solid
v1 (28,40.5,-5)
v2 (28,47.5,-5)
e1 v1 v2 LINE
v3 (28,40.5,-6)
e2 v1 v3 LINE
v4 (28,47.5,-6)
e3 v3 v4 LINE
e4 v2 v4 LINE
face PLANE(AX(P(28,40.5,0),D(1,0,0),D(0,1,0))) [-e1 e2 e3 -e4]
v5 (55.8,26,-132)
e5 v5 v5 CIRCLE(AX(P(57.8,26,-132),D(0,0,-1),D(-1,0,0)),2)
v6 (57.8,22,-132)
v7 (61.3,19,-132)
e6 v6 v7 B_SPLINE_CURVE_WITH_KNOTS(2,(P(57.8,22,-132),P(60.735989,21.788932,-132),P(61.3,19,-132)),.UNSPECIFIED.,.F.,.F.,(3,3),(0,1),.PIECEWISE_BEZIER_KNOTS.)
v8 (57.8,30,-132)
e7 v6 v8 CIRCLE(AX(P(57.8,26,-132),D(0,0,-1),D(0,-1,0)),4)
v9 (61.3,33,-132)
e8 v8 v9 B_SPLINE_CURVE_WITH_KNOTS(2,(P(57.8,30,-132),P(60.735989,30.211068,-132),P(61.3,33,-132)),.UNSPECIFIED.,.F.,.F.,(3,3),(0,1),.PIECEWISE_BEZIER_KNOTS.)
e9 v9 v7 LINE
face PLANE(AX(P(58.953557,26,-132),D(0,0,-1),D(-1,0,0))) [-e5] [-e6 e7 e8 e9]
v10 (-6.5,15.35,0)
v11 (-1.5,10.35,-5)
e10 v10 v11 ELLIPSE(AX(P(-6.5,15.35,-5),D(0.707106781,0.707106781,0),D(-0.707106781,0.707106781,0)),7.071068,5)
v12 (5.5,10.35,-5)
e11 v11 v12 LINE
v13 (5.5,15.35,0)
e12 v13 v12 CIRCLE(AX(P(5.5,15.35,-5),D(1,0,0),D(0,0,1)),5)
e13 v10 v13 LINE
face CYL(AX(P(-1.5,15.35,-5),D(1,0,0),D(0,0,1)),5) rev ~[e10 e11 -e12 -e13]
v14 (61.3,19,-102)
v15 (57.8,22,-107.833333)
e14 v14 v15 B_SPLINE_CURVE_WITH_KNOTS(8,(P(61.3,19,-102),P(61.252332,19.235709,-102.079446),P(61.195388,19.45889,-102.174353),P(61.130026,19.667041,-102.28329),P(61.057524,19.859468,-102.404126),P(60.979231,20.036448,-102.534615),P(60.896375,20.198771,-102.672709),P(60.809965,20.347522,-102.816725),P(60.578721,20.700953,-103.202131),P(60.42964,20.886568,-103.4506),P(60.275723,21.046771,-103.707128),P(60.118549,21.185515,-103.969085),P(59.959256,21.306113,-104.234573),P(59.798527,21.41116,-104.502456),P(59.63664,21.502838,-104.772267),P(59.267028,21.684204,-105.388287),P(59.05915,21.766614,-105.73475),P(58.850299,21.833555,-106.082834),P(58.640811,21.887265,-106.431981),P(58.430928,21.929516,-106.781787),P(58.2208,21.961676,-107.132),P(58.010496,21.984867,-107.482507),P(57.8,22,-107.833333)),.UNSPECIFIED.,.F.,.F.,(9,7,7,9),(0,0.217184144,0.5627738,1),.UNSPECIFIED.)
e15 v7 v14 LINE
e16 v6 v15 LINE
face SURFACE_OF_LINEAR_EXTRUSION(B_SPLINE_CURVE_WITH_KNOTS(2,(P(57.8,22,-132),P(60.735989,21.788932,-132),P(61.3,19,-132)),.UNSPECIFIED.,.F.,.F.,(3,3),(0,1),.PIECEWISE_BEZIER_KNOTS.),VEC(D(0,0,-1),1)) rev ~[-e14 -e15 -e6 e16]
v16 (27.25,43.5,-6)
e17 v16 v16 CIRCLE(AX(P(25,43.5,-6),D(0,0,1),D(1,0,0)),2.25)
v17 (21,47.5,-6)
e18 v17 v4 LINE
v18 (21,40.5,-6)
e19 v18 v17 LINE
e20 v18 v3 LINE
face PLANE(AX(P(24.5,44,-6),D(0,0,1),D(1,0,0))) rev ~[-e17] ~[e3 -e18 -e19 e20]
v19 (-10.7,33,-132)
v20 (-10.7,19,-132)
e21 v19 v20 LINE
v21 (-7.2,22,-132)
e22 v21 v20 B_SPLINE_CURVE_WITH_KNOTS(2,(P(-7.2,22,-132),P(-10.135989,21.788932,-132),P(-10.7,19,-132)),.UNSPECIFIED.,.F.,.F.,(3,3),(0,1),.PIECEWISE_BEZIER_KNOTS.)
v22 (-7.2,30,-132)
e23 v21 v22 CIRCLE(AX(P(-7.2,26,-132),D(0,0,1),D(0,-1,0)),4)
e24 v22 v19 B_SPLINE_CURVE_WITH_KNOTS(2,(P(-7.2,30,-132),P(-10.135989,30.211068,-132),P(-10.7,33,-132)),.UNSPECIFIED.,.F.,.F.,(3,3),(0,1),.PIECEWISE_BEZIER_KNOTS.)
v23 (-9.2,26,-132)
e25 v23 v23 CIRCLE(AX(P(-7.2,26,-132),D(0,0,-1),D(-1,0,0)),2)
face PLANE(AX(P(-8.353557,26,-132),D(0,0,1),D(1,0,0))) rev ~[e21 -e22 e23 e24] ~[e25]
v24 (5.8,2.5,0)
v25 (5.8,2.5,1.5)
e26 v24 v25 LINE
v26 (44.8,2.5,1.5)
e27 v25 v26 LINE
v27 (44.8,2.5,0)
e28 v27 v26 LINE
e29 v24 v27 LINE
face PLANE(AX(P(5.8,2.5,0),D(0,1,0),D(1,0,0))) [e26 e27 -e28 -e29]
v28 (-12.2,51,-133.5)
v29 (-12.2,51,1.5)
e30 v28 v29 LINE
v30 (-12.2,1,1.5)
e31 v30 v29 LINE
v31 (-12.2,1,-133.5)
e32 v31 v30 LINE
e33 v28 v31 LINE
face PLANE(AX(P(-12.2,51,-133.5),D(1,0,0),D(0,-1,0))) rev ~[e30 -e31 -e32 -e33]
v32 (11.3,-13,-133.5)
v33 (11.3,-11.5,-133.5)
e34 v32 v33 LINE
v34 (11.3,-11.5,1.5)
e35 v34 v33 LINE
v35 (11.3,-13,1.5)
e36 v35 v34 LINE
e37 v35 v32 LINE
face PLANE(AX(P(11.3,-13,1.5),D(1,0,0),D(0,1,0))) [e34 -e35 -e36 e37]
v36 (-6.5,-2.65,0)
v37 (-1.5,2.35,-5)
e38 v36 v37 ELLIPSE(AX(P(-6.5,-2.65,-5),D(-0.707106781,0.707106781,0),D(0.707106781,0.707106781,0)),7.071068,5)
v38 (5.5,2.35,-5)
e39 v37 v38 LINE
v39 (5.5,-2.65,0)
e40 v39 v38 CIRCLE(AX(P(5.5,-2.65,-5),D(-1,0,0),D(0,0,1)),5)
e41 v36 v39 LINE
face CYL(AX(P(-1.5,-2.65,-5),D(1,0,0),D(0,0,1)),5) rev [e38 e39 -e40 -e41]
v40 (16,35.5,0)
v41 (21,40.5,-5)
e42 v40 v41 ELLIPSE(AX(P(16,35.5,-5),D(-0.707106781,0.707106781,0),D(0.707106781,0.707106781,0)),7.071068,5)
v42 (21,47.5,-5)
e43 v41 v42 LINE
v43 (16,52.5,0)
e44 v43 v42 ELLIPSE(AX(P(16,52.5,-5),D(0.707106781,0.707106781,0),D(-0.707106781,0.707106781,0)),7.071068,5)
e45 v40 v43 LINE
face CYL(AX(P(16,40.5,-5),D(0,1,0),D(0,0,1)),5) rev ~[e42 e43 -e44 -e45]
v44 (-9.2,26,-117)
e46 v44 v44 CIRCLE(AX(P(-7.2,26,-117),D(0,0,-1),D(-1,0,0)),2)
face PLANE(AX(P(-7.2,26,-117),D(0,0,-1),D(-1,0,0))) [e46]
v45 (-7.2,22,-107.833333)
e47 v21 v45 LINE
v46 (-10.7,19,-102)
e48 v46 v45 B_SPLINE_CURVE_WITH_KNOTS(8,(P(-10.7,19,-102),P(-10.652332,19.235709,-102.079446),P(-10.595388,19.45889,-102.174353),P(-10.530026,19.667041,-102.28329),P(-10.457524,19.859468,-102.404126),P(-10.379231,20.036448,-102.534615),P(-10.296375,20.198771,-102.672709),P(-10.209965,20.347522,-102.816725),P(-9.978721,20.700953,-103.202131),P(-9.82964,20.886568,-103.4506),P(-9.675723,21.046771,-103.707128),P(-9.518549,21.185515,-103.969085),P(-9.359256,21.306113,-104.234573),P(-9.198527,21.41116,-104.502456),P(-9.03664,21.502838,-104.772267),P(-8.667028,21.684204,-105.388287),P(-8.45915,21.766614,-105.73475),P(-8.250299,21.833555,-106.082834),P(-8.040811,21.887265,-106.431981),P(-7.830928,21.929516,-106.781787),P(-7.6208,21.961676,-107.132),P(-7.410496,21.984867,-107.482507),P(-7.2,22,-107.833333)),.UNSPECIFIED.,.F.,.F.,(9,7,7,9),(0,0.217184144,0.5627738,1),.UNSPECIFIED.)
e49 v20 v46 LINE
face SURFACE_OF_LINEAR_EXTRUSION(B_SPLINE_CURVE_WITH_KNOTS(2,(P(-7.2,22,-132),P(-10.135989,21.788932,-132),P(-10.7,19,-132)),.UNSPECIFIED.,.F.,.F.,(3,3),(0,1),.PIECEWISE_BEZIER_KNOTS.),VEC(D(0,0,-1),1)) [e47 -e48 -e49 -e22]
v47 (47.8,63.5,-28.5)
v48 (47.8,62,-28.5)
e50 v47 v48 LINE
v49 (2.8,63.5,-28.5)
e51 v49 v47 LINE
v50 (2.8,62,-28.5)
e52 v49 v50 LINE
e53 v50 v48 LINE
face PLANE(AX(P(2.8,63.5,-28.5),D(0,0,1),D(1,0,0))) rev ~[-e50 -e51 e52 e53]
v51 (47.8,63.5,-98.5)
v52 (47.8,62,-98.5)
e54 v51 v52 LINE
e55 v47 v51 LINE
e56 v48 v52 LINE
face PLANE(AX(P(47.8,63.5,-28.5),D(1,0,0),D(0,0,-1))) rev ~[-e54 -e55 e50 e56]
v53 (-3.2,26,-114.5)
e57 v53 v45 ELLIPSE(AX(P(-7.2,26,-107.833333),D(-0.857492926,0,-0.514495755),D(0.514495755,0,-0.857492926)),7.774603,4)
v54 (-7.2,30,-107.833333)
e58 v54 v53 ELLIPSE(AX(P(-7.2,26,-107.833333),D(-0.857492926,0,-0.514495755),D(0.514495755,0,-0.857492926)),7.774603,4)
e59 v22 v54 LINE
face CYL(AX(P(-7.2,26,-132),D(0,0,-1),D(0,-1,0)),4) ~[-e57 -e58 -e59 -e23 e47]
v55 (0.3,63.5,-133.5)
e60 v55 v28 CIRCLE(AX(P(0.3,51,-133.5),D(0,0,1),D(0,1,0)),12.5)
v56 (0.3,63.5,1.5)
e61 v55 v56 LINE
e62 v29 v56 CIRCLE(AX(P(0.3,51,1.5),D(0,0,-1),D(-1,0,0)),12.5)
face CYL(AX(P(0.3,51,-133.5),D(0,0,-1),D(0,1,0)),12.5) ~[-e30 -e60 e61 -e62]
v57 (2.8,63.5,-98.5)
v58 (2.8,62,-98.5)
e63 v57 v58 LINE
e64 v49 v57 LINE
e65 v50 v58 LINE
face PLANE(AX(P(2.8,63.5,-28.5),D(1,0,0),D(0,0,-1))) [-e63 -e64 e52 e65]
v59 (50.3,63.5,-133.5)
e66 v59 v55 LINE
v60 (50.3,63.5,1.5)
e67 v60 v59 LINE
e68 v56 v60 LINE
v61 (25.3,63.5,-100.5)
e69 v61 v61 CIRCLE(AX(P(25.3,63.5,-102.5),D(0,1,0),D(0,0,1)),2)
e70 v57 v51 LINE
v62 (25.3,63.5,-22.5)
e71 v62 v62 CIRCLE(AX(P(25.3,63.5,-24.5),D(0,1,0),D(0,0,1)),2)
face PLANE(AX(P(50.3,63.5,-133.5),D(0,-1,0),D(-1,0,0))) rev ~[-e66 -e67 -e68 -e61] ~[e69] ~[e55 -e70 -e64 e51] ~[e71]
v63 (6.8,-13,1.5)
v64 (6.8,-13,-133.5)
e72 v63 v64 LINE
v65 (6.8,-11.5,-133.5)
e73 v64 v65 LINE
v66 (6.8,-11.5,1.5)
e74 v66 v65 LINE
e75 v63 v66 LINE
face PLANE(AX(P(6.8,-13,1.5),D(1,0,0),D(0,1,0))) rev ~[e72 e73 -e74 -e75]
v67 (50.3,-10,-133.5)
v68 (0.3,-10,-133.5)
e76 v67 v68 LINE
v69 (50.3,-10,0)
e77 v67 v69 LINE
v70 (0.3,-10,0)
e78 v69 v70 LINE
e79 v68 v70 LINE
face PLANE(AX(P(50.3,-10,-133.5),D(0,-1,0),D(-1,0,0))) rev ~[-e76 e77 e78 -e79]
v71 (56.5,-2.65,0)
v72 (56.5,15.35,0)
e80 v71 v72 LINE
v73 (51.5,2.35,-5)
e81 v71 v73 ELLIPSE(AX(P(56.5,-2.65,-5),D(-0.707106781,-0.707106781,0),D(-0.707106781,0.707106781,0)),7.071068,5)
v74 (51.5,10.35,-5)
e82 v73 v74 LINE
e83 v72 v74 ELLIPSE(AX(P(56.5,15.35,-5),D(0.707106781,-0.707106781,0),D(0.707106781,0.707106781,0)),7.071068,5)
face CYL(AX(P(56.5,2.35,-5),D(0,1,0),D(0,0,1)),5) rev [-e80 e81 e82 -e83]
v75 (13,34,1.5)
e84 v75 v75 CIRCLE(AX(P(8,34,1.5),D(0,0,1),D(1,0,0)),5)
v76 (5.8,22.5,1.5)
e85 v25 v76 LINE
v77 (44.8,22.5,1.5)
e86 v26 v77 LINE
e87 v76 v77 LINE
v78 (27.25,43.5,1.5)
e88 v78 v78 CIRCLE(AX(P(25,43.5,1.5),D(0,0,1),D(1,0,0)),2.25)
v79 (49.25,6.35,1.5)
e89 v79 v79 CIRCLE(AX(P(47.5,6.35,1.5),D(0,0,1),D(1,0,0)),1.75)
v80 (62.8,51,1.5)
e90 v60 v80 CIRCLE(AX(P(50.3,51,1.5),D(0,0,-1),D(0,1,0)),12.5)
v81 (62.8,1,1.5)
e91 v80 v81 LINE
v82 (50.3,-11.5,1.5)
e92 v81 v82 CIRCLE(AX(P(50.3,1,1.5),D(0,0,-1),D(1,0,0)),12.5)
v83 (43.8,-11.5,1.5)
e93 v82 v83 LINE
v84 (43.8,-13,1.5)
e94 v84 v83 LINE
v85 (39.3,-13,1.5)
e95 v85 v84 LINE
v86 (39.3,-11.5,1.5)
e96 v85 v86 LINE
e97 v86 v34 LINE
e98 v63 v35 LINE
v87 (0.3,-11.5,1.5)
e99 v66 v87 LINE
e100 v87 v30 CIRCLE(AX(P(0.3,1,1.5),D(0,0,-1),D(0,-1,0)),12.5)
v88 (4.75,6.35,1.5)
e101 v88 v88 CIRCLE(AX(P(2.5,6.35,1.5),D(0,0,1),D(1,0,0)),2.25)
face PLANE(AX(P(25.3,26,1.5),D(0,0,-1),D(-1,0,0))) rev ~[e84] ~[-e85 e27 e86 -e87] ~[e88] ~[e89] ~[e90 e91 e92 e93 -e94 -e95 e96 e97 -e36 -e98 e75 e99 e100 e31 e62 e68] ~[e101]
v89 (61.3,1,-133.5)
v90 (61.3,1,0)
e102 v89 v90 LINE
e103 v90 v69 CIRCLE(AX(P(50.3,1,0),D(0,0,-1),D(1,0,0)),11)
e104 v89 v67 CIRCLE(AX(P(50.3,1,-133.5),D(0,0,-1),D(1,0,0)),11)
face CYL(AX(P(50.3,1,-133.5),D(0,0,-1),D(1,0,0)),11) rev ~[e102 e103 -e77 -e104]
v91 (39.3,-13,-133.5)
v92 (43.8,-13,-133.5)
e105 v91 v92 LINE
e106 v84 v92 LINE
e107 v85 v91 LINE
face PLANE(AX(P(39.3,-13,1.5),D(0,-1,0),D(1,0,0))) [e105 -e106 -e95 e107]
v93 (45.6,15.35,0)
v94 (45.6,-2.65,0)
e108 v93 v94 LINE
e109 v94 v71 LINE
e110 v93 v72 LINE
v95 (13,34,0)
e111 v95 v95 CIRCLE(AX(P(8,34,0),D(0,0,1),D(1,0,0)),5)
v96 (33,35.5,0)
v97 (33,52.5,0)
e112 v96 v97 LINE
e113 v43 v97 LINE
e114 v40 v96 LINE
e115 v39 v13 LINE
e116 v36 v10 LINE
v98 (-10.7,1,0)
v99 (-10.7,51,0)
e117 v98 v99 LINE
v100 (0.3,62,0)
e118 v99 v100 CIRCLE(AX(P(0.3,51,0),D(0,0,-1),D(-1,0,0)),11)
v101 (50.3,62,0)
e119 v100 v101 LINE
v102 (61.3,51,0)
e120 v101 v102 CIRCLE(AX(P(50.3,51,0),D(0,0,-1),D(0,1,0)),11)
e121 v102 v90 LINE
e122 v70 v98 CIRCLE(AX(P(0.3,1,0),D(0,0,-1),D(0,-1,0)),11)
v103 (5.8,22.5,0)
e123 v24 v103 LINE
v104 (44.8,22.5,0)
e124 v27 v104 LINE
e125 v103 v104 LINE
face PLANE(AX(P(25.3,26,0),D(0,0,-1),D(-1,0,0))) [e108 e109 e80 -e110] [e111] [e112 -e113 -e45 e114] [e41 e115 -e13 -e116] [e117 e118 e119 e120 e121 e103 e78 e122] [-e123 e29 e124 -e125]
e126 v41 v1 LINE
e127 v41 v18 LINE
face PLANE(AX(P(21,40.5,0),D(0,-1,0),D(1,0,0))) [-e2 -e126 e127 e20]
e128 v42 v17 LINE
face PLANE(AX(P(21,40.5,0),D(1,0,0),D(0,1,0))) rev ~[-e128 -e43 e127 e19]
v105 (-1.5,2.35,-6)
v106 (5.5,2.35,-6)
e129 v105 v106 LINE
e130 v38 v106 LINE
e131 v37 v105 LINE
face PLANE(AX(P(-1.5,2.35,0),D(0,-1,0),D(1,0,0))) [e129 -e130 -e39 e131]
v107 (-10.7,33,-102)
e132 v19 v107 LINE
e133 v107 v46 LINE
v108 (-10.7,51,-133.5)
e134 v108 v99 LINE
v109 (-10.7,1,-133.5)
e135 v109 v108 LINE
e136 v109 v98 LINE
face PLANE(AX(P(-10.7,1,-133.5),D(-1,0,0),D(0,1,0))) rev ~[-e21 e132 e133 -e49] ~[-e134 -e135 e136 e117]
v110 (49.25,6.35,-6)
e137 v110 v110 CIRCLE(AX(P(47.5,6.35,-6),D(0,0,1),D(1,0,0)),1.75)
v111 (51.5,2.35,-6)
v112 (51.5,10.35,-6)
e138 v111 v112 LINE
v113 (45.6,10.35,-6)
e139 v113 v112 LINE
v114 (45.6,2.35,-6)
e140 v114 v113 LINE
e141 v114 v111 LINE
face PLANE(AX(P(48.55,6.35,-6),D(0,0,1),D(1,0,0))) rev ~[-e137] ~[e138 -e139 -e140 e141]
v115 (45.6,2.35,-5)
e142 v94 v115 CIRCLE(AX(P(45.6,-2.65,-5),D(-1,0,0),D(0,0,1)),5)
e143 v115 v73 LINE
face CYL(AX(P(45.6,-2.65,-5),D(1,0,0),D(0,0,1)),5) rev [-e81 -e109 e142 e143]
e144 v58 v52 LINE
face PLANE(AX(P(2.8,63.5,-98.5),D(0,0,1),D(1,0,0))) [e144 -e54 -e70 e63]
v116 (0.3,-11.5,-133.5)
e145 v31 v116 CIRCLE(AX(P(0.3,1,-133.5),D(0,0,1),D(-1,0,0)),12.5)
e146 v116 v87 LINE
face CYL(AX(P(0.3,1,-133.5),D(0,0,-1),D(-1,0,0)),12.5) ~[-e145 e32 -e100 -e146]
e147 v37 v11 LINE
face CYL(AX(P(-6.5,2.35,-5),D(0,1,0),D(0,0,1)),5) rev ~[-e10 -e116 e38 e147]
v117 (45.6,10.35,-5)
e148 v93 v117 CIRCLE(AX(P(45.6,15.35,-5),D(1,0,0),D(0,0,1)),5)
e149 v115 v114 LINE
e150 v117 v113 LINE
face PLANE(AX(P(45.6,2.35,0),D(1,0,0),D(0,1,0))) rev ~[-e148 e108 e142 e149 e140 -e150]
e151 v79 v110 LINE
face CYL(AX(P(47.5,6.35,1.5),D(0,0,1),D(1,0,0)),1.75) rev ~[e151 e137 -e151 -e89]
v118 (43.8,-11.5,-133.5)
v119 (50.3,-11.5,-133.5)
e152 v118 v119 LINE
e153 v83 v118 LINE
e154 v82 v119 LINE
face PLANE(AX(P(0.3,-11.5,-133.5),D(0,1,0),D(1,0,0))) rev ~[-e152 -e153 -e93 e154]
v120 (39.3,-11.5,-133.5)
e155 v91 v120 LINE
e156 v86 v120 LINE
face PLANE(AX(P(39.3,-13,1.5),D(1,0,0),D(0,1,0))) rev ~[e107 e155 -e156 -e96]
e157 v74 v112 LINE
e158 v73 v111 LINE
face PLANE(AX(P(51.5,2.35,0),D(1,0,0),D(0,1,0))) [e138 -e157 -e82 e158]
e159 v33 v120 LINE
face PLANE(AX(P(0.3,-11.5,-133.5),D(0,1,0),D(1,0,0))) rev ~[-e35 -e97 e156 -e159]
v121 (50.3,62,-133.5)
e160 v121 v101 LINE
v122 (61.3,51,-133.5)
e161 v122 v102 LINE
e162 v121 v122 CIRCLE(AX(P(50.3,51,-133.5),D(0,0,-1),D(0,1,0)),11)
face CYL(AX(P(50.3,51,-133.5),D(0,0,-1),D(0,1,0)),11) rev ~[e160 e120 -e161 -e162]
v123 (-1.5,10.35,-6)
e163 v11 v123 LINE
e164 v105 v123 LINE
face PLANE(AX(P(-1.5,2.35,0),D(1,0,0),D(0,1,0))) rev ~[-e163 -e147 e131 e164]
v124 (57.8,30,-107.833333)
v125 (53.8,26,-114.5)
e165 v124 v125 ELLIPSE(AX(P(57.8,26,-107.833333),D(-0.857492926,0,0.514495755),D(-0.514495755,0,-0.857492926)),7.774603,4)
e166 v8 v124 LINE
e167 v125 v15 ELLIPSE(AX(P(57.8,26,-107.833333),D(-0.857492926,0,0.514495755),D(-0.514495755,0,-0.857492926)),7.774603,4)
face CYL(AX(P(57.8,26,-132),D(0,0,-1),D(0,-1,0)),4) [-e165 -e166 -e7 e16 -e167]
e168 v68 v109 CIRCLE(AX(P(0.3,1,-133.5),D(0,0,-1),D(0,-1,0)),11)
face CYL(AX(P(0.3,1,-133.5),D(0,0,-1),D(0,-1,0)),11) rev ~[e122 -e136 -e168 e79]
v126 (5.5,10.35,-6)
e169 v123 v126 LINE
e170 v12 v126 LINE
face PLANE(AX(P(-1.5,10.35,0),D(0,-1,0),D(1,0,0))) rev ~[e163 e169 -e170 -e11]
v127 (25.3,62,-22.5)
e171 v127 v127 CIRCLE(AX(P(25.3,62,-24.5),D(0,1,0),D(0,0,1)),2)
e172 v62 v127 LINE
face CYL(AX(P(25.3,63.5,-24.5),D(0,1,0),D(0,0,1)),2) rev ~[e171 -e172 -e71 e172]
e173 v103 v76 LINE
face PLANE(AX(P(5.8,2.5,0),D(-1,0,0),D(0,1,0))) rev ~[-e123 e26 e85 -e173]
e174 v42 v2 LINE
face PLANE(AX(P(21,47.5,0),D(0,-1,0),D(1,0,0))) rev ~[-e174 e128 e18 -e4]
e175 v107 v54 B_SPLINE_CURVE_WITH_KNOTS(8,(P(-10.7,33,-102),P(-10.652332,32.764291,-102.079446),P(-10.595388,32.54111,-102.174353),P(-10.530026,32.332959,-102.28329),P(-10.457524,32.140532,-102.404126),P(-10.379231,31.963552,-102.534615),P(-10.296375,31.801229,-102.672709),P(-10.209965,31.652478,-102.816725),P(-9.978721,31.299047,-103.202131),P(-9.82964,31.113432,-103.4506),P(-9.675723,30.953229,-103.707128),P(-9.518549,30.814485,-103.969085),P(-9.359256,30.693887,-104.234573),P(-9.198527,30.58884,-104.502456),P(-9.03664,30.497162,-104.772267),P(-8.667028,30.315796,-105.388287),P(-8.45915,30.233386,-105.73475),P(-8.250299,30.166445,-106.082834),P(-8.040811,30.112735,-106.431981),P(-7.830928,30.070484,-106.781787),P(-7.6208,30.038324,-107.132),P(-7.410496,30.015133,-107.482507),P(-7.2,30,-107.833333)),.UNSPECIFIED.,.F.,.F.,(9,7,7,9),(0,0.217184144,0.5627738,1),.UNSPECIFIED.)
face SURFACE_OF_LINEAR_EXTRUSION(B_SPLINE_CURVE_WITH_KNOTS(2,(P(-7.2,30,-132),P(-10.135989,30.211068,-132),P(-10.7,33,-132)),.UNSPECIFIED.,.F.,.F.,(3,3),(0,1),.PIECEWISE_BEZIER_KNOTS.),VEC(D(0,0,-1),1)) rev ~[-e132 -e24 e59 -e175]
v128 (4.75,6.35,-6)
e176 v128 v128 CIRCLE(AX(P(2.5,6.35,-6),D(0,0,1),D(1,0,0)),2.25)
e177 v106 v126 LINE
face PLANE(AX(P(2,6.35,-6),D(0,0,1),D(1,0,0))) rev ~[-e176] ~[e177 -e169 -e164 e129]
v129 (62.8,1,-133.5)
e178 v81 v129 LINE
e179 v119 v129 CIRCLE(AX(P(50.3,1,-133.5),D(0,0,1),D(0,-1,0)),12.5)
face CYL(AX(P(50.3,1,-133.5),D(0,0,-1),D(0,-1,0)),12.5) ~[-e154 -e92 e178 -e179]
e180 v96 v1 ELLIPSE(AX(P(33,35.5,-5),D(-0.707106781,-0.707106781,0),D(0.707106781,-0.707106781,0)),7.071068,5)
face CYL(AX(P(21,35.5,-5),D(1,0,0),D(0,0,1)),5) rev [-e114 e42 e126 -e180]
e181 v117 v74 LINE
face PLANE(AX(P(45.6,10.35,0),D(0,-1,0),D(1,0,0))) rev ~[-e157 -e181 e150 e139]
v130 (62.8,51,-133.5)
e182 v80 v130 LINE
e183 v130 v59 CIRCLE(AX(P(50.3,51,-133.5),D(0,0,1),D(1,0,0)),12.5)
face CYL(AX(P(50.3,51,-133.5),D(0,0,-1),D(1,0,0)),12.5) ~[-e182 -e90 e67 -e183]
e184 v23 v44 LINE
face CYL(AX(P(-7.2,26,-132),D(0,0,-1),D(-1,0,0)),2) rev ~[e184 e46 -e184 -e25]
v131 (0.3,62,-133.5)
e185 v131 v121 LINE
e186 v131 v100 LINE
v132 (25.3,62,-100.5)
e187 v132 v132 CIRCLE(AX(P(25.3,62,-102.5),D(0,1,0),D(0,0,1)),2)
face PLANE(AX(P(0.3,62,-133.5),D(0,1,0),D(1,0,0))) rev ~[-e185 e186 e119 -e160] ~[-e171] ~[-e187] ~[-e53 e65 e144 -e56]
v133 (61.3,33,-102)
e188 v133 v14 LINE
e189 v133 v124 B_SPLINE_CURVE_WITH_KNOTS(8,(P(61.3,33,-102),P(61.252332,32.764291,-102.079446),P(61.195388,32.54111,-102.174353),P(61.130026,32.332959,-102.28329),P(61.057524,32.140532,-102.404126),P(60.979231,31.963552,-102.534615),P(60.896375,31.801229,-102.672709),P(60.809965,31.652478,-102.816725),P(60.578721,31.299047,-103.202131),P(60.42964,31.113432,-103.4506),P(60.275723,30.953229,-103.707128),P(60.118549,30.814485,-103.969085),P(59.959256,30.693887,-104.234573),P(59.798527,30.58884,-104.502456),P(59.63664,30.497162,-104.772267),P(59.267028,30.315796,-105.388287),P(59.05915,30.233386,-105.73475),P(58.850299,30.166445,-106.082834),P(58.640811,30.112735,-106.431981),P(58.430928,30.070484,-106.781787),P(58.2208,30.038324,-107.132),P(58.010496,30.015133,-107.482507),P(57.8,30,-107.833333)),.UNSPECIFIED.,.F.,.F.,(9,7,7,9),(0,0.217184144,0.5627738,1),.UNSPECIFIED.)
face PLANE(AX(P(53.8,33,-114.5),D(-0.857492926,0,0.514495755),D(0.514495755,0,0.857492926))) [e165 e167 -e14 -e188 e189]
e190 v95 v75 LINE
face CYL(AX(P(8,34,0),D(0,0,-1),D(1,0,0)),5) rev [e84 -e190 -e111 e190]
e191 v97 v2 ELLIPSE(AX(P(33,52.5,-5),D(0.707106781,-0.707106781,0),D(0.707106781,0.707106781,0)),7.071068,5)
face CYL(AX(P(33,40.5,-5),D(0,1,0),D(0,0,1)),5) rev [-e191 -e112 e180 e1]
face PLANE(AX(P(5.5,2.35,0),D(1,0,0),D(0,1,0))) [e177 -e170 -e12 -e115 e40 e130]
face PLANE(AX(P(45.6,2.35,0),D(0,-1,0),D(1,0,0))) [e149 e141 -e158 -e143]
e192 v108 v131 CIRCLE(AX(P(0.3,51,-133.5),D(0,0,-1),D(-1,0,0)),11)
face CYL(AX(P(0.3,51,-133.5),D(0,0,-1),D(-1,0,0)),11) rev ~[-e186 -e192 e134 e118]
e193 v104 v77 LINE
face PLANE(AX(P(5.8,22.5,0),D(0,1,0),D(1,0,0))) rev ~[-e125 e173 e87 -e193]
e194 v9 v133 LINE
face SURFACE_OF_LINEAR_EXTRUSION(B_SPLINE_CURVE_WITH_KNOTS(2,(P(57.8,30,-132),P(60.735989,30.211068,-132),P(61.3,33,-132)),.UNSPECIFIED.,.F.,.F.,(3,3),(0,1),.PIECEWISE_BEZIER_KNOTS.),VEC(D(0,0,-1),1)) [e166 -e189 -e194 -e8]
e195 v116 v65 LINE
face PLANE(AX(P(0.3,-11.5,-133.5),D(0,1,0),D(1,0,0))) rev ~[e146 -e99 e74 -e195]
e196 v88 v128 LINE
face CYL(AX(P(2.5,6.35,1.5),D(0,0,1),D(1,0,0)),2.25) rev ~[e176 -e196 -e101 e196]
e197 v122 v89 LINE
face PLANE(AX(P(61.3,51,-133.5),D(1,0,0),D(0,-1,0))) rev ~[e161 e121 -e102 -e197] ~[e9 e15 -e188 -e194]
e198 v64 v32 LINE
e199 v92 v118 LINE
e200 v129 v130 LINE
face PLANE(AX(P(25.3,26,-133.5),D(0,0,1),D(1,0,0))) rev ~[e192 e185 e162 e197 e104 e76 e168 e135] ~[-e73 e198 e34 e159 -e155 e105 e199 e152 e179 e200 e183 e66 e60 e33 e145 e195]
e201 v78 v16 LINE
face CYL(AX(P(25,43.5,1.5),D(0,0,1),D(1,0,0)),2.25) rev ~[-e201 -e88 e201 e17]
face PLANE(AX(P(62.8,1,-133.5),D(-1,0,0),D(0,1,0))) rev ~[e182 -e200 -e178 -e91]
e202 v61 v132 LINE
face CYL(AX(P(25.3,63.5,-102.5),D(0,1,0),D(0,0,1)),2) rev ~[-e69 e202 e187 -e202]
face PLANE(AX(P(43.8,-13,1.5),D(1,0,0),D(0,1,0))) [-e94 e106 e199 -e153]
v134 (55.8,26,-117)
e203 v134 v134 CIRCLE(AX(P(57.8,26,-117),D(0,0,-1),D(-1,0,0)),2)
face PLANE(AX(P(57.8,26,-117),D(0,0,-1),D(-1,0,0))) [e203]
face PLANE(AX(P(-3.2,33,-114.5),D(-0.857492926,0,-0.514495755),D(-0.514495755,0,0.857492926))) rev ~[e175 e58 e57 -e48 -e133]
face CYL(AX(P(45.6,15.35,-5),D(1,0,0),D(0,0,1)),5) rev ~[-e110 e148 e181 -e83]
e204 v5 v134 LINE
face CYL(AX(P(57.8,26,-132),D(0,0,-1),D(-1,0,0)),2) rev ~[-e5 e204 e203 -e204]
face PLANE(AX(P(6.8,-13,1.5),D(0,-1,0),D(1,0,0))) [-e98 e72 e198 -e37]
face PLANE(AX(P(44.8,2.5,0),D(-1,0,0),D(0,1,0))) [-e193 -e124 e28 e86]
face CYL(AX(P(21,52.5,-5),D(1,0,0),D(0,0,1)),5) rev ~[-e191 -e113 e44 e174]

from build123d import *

# Parameters (mm, degrees)
SKETCH1_R           = 5
SKETCH1_W           = 39
SKETCH1_H           = 20
BOSS_EXTRUDE1_DEPTH = 1.5
BOSS_EXTRUDE3_START = 133.5
BOSS_EXTRUDE3_DEPTH = 133.5
BOSS_EXTRUDE4_DEPTH = 30
CUT_EXTRUDE1_DEPTH  = 15
CUT_EXTRUDE2_DEPTH  = 15
SKETCH7_R           = 2
CUT_EXTRUDE3_DEPTH  = 15
SKETCH10_W          = 45
SKETCH10_H          = 70
CUT_EXTRUDE4_DEPTH  = 1.5
SKETCH11_R          = 2
CUT_EXTRUDE6_DEPTH  = 1.5
SKETCH15_W          = 7
SKETCH15_H          = 7
SKETCH15_W_2        = 5.9
SKETCH15_H_2        = 8
BOSS_EXTRUDE5_DEPTH = 6
SKETCH16_R          = 2.25
SKETCH16_R_2        = 1.75
CUT_EXTRUDE20_DEPTH = 10
FILLET5_R           = 5
FILLET6_R           = 5
FILLET7_R           = 5
SKETCH17_W          = 4.5
SKETCH17_H          = 1.5
BOSS_EXTRUDE6_DEPTH = 135


with BuildPart() as part:
    # Sketch1 → Boss-Extrude1 (new body)
    with BuildSketch(Plane.XY):
        with BuildLine():
            Line((50.3, -11.5), (0.3, -11.5))
            ThreePointArc((0.3, -11.5), (-8.538834765, -7.838834765), (-12.2, 1))
            Line((-12.2, 1), (-12.2, 51))
            ThreePointArc((-12.2, 51), (-8.538834765, 59.838834765), (0.3, 63.5))
            Line((0.3, 63.5), (50.3, 63.5))
            ThreePointArc((50.3, 63.5), (59.138834765, 59.838834765), (62.8, 51))
            Line((62.8, 51), (62.8, 1))
            ThreePointArc((62.8, 1), (59.138834765, -7.838834765), (50.3, -11.5))
        make_face()
        with Locations((8, 34)):
            Circle(SKETCH1_R, mode=Mode.SUBTRACT)
        with Locations((25.3, 12.5)):
            Rectangle(SKETCH1_W, SKETCH1_H, mode=Mode.SUBTRACT)
    extrude(amount=BOSS_EXTRUDE1_DEPTH)

    # Sketch3 → Boss-Extrude3 (add)
    with BuildSketch(Plane(origin=(0, 0, 0), x_dir=(-1, 0, 0), z_dir=(0, 0, -1)).offset(BOSS_EXTRUDE3_START)):
        with BuildLine():
            Line((-50.3, 63.5), (-0.3, 63.5))
            ThreePointArc((-0.3, 63.5), (8.538834765, 59.838834765), (12.2, 51))
            Line((12.2, 51), (12.2, 1))
            ThreePointArc((12.2, 1), (8.538834765, -7.838834765), (-0.3, -11.5))
            Line((-0.3, -11.5), (-50.3, -11.5))
            ThreePointArc((-50.3, -11.5), (-59.138834765, -7.838834765), (-62.8, 1))
            Line((-62.8, 1), (-62.8, 51))
            ThreePointArc((-62.8, 51), (-59.138834765, 59.838834765), (-50.3, 63.5))
        make_face()
        with BuildLine():
            Line((10.7, 1), (10.7, 51))
            ThreePointArc((10.7, 51), (7.478174593, 58.778174593), (-0.3, 62))
            Line((-0.3, 62), (-50.3, 62))
            ThreePointArc((-50.3, 62), (-58.078174593, 58.778174593), (-61.3, 51))
            Line((-61.3, 51), (-61.3, 1))
            ThreePointArc((-61.3, 1), (-58.078174593, -6.778174593), (-50.3, -10))
            Line((-50.3, -10), (-0.3, -10))
            ThreePointArc((-0.3, -10), (7.478174593, -6.778174593), (10.7, 1))
        make_face(mode=Mode.SUBTRACT)
    extrude(amount=-BOSS_EXTRUDE3_DEPTH)

    # Sketch4 → Boss-Extrude4 (add)
    with BuildSketch(Plane(origin=(0, 0, -132), x_dir=(-1, 0, 0), z_dir=(0, 0, -1))):
        with BuildLine():
            Line((-61.3, 33), (-61.3, 19))
            add(Edge.make_bspline(
                [(-57.8, 22), (-60.735988769, 21.788932059), (-61.3, 19)],
                knots=[0, 0, 0, 1, 1, 1], degree=2))
            ThreePointArc((-57.8, 22), (-53.8, 26), (-57.8, 30))
            add(Edge.make_bspline(
                [(-57.8, 30), (-60.735988769, 30.211067941), (-61.3, 33)],
                knots=[0, 0, 0, 1, 1, 1], degree=2))
        make_face()
        with BuildLine():
            Line((10.7, 33), (10.7, 19))
            add(Edge.make_bspline(
                [(7.2, 22), (10.135988769, 21.788932059), (10.7, 19)],
                knots=[0, 0, 0, 1, 1, 1], degree=2))
            ThreePointArc((7.2, 22), (3.2, 26), (7.2, 30))
            add(Edge.make_bspline(
                [(7.2, 30), (10.135988769, 30.211067941), (10.7, 33)],
                knots=[0, 0, 0, 1, 1, 1], degree=2))
        make_face()
    extrude(amount=-BOSS_EXTRUDE4_DEPTH)

    # Sketch5 → Cut-Extrude1 (cut)
    with BuildSketch(Plane(origin=(0, 33, 0), x_dir=(-1, 0, 0), z_dir=(0, -1, 0))):
        Polygon((10.7, 102), (3.2, 102), (3.2, 114.5), align=None)
    extrude(amount=CUT_EXTRUDE1_DEPTH, mode=Mode.SUBTRACT)

    # Sketch6 → Cut-Extrude2 (cut)
    with BuildSketch(Plane(origin=(0, 33, 0), x_dir=(-1, 0, 0), z_dir=(0, -1, 0))):
        Polygon((-61.3, 102), (-53.8, 102), (-53.8, 114.5), align=None)
    extrude(amount=CUT_EXTRUDE2_DEPTH, mode=Mode.SUBTRACT)

    # Sketch7 → Cut-Extrude3 (cut)
    with BuildSketch(Plane(origin=(0, 0, -132), x_dir=(-1, 0, 0), z_dir=(0, 0, -1))):
        with Locations((-57.8, 26)):
            Circle(SKETCH7_R)
        with Locations((7.2, 26)):
            Circle(SKETCH7_R)
    extrude(amount=-CUT_EXTRUDE3_DEPTH, mode=Mode.SUBTRACT)

    # Sketch10 → Cut-Extrude4 (cut)
    with BuildSketch(Plane(origin=(0, 63.5, 0), x_dir=(1, 0, 0), z_dir=(0, 1, 0))):
        with Locations((25.3, 63.5)):
            Rectangle(SKETCH10_W, SKETCH10_H)
    extrude(amount=-CUT_EXTRUDE4_DEPTH, mode=Mode.SUBTRACT)

    # Sketch11 → Cut-Extrude6 (cut)
    with BuildSketch(Plane(origin=(0, 63.5, 0), x_dir=(1, 0, 0), z_dir=(0, 1, 0))):
        with Locations(Location((25.3, 102.5, 0), (0, 0, 270))):
            Circle(SKETCH11_R)
        with Locations(Location((25.3, 24.5, 0), (0, 0, 270))):
            Circle(SKETCH11_R)
    extrude(amount=-CUT_EXTRUDE6_DEPTH, mode=Mode.SUBTRACT)

    # Sketch15 → Boss-Extrude5 (add)
    with BuildSketch(Plane.XY):
        with Locations((24.5, 44)):
            Rectangle(SKETCH15_W, SKETCH15_H)
        with Locations((48.55, 6.35)):
            Rectangle(SKETCH15_W_2, SKETCH15_H_2)
        with Locations((2, 6.35)):
            Rectangle(SKETCH15_W, SKETCH15_H_2)
    extrude(amount=-BOSS_EXTRUDE5_DEPTH)

    # Sketch16 → Cut-Extrude20 (cut)
    with BuildSketch(Plane.XY.offset(1.5)):
        with Locations((25, 43.5)):
            Circle(SKETCH16_R)
        with Locations((47.5, 6.35)):
            Circle(SKETCH16_R_2)
        with Locations((2.5, 6.35)):
            Circle(SKETCH16_R)
    extrude(amount=-CUT_EXTRUDE20_DEPTH, mode=Mode.SUBTRACT)

    # Fillet5
    fillet5_edges = [part.edges().sort_by_distance(p)[0] for p in [
        (-1.5, 6.35, 0),
        (2, 2.35, 0),
        (2, 10.35, 0),
    ]]
    fillet(fillet5_edges, radius=FILLET5_R)

    # Fillet6
    fillet6_edges = [part.edges().sort_by_distance(p)[0] for p in [
        (51.5, 6.35, 0),
        (48.55, 10.35, 0),
        (48.55, 2.35, 0),
    ]]
    fillet(fillet6_edges, radius=FILLET6_R)

    # Fillet7
    fillet7_edges = [part.edges().sort_by_distance(p)[0] for p in [
        (21, 44, 0),
        (24.5, 40.5, 0),
        (28, 44, 0),
        (24.5, 47.5, 0),
    ]]
    fillet(fillet7_edges, radius=FILLET7_R)

    # Sketch17 → Boss-Extrude6 (add)
    with BuildSketch(Plane.XY.offset(1.5)):
        with Locations((41.55, -12.25)):
            Rectangle(SKETCH17_W, SKETCH17_H)
        with Locations((9.05, -12.25)):
            Rectangle(SKETCH17_W, SKETCH17_H)
    extrude(amount=-BOSS_EXTRUDE6_DEPTH)


solid = part.part
